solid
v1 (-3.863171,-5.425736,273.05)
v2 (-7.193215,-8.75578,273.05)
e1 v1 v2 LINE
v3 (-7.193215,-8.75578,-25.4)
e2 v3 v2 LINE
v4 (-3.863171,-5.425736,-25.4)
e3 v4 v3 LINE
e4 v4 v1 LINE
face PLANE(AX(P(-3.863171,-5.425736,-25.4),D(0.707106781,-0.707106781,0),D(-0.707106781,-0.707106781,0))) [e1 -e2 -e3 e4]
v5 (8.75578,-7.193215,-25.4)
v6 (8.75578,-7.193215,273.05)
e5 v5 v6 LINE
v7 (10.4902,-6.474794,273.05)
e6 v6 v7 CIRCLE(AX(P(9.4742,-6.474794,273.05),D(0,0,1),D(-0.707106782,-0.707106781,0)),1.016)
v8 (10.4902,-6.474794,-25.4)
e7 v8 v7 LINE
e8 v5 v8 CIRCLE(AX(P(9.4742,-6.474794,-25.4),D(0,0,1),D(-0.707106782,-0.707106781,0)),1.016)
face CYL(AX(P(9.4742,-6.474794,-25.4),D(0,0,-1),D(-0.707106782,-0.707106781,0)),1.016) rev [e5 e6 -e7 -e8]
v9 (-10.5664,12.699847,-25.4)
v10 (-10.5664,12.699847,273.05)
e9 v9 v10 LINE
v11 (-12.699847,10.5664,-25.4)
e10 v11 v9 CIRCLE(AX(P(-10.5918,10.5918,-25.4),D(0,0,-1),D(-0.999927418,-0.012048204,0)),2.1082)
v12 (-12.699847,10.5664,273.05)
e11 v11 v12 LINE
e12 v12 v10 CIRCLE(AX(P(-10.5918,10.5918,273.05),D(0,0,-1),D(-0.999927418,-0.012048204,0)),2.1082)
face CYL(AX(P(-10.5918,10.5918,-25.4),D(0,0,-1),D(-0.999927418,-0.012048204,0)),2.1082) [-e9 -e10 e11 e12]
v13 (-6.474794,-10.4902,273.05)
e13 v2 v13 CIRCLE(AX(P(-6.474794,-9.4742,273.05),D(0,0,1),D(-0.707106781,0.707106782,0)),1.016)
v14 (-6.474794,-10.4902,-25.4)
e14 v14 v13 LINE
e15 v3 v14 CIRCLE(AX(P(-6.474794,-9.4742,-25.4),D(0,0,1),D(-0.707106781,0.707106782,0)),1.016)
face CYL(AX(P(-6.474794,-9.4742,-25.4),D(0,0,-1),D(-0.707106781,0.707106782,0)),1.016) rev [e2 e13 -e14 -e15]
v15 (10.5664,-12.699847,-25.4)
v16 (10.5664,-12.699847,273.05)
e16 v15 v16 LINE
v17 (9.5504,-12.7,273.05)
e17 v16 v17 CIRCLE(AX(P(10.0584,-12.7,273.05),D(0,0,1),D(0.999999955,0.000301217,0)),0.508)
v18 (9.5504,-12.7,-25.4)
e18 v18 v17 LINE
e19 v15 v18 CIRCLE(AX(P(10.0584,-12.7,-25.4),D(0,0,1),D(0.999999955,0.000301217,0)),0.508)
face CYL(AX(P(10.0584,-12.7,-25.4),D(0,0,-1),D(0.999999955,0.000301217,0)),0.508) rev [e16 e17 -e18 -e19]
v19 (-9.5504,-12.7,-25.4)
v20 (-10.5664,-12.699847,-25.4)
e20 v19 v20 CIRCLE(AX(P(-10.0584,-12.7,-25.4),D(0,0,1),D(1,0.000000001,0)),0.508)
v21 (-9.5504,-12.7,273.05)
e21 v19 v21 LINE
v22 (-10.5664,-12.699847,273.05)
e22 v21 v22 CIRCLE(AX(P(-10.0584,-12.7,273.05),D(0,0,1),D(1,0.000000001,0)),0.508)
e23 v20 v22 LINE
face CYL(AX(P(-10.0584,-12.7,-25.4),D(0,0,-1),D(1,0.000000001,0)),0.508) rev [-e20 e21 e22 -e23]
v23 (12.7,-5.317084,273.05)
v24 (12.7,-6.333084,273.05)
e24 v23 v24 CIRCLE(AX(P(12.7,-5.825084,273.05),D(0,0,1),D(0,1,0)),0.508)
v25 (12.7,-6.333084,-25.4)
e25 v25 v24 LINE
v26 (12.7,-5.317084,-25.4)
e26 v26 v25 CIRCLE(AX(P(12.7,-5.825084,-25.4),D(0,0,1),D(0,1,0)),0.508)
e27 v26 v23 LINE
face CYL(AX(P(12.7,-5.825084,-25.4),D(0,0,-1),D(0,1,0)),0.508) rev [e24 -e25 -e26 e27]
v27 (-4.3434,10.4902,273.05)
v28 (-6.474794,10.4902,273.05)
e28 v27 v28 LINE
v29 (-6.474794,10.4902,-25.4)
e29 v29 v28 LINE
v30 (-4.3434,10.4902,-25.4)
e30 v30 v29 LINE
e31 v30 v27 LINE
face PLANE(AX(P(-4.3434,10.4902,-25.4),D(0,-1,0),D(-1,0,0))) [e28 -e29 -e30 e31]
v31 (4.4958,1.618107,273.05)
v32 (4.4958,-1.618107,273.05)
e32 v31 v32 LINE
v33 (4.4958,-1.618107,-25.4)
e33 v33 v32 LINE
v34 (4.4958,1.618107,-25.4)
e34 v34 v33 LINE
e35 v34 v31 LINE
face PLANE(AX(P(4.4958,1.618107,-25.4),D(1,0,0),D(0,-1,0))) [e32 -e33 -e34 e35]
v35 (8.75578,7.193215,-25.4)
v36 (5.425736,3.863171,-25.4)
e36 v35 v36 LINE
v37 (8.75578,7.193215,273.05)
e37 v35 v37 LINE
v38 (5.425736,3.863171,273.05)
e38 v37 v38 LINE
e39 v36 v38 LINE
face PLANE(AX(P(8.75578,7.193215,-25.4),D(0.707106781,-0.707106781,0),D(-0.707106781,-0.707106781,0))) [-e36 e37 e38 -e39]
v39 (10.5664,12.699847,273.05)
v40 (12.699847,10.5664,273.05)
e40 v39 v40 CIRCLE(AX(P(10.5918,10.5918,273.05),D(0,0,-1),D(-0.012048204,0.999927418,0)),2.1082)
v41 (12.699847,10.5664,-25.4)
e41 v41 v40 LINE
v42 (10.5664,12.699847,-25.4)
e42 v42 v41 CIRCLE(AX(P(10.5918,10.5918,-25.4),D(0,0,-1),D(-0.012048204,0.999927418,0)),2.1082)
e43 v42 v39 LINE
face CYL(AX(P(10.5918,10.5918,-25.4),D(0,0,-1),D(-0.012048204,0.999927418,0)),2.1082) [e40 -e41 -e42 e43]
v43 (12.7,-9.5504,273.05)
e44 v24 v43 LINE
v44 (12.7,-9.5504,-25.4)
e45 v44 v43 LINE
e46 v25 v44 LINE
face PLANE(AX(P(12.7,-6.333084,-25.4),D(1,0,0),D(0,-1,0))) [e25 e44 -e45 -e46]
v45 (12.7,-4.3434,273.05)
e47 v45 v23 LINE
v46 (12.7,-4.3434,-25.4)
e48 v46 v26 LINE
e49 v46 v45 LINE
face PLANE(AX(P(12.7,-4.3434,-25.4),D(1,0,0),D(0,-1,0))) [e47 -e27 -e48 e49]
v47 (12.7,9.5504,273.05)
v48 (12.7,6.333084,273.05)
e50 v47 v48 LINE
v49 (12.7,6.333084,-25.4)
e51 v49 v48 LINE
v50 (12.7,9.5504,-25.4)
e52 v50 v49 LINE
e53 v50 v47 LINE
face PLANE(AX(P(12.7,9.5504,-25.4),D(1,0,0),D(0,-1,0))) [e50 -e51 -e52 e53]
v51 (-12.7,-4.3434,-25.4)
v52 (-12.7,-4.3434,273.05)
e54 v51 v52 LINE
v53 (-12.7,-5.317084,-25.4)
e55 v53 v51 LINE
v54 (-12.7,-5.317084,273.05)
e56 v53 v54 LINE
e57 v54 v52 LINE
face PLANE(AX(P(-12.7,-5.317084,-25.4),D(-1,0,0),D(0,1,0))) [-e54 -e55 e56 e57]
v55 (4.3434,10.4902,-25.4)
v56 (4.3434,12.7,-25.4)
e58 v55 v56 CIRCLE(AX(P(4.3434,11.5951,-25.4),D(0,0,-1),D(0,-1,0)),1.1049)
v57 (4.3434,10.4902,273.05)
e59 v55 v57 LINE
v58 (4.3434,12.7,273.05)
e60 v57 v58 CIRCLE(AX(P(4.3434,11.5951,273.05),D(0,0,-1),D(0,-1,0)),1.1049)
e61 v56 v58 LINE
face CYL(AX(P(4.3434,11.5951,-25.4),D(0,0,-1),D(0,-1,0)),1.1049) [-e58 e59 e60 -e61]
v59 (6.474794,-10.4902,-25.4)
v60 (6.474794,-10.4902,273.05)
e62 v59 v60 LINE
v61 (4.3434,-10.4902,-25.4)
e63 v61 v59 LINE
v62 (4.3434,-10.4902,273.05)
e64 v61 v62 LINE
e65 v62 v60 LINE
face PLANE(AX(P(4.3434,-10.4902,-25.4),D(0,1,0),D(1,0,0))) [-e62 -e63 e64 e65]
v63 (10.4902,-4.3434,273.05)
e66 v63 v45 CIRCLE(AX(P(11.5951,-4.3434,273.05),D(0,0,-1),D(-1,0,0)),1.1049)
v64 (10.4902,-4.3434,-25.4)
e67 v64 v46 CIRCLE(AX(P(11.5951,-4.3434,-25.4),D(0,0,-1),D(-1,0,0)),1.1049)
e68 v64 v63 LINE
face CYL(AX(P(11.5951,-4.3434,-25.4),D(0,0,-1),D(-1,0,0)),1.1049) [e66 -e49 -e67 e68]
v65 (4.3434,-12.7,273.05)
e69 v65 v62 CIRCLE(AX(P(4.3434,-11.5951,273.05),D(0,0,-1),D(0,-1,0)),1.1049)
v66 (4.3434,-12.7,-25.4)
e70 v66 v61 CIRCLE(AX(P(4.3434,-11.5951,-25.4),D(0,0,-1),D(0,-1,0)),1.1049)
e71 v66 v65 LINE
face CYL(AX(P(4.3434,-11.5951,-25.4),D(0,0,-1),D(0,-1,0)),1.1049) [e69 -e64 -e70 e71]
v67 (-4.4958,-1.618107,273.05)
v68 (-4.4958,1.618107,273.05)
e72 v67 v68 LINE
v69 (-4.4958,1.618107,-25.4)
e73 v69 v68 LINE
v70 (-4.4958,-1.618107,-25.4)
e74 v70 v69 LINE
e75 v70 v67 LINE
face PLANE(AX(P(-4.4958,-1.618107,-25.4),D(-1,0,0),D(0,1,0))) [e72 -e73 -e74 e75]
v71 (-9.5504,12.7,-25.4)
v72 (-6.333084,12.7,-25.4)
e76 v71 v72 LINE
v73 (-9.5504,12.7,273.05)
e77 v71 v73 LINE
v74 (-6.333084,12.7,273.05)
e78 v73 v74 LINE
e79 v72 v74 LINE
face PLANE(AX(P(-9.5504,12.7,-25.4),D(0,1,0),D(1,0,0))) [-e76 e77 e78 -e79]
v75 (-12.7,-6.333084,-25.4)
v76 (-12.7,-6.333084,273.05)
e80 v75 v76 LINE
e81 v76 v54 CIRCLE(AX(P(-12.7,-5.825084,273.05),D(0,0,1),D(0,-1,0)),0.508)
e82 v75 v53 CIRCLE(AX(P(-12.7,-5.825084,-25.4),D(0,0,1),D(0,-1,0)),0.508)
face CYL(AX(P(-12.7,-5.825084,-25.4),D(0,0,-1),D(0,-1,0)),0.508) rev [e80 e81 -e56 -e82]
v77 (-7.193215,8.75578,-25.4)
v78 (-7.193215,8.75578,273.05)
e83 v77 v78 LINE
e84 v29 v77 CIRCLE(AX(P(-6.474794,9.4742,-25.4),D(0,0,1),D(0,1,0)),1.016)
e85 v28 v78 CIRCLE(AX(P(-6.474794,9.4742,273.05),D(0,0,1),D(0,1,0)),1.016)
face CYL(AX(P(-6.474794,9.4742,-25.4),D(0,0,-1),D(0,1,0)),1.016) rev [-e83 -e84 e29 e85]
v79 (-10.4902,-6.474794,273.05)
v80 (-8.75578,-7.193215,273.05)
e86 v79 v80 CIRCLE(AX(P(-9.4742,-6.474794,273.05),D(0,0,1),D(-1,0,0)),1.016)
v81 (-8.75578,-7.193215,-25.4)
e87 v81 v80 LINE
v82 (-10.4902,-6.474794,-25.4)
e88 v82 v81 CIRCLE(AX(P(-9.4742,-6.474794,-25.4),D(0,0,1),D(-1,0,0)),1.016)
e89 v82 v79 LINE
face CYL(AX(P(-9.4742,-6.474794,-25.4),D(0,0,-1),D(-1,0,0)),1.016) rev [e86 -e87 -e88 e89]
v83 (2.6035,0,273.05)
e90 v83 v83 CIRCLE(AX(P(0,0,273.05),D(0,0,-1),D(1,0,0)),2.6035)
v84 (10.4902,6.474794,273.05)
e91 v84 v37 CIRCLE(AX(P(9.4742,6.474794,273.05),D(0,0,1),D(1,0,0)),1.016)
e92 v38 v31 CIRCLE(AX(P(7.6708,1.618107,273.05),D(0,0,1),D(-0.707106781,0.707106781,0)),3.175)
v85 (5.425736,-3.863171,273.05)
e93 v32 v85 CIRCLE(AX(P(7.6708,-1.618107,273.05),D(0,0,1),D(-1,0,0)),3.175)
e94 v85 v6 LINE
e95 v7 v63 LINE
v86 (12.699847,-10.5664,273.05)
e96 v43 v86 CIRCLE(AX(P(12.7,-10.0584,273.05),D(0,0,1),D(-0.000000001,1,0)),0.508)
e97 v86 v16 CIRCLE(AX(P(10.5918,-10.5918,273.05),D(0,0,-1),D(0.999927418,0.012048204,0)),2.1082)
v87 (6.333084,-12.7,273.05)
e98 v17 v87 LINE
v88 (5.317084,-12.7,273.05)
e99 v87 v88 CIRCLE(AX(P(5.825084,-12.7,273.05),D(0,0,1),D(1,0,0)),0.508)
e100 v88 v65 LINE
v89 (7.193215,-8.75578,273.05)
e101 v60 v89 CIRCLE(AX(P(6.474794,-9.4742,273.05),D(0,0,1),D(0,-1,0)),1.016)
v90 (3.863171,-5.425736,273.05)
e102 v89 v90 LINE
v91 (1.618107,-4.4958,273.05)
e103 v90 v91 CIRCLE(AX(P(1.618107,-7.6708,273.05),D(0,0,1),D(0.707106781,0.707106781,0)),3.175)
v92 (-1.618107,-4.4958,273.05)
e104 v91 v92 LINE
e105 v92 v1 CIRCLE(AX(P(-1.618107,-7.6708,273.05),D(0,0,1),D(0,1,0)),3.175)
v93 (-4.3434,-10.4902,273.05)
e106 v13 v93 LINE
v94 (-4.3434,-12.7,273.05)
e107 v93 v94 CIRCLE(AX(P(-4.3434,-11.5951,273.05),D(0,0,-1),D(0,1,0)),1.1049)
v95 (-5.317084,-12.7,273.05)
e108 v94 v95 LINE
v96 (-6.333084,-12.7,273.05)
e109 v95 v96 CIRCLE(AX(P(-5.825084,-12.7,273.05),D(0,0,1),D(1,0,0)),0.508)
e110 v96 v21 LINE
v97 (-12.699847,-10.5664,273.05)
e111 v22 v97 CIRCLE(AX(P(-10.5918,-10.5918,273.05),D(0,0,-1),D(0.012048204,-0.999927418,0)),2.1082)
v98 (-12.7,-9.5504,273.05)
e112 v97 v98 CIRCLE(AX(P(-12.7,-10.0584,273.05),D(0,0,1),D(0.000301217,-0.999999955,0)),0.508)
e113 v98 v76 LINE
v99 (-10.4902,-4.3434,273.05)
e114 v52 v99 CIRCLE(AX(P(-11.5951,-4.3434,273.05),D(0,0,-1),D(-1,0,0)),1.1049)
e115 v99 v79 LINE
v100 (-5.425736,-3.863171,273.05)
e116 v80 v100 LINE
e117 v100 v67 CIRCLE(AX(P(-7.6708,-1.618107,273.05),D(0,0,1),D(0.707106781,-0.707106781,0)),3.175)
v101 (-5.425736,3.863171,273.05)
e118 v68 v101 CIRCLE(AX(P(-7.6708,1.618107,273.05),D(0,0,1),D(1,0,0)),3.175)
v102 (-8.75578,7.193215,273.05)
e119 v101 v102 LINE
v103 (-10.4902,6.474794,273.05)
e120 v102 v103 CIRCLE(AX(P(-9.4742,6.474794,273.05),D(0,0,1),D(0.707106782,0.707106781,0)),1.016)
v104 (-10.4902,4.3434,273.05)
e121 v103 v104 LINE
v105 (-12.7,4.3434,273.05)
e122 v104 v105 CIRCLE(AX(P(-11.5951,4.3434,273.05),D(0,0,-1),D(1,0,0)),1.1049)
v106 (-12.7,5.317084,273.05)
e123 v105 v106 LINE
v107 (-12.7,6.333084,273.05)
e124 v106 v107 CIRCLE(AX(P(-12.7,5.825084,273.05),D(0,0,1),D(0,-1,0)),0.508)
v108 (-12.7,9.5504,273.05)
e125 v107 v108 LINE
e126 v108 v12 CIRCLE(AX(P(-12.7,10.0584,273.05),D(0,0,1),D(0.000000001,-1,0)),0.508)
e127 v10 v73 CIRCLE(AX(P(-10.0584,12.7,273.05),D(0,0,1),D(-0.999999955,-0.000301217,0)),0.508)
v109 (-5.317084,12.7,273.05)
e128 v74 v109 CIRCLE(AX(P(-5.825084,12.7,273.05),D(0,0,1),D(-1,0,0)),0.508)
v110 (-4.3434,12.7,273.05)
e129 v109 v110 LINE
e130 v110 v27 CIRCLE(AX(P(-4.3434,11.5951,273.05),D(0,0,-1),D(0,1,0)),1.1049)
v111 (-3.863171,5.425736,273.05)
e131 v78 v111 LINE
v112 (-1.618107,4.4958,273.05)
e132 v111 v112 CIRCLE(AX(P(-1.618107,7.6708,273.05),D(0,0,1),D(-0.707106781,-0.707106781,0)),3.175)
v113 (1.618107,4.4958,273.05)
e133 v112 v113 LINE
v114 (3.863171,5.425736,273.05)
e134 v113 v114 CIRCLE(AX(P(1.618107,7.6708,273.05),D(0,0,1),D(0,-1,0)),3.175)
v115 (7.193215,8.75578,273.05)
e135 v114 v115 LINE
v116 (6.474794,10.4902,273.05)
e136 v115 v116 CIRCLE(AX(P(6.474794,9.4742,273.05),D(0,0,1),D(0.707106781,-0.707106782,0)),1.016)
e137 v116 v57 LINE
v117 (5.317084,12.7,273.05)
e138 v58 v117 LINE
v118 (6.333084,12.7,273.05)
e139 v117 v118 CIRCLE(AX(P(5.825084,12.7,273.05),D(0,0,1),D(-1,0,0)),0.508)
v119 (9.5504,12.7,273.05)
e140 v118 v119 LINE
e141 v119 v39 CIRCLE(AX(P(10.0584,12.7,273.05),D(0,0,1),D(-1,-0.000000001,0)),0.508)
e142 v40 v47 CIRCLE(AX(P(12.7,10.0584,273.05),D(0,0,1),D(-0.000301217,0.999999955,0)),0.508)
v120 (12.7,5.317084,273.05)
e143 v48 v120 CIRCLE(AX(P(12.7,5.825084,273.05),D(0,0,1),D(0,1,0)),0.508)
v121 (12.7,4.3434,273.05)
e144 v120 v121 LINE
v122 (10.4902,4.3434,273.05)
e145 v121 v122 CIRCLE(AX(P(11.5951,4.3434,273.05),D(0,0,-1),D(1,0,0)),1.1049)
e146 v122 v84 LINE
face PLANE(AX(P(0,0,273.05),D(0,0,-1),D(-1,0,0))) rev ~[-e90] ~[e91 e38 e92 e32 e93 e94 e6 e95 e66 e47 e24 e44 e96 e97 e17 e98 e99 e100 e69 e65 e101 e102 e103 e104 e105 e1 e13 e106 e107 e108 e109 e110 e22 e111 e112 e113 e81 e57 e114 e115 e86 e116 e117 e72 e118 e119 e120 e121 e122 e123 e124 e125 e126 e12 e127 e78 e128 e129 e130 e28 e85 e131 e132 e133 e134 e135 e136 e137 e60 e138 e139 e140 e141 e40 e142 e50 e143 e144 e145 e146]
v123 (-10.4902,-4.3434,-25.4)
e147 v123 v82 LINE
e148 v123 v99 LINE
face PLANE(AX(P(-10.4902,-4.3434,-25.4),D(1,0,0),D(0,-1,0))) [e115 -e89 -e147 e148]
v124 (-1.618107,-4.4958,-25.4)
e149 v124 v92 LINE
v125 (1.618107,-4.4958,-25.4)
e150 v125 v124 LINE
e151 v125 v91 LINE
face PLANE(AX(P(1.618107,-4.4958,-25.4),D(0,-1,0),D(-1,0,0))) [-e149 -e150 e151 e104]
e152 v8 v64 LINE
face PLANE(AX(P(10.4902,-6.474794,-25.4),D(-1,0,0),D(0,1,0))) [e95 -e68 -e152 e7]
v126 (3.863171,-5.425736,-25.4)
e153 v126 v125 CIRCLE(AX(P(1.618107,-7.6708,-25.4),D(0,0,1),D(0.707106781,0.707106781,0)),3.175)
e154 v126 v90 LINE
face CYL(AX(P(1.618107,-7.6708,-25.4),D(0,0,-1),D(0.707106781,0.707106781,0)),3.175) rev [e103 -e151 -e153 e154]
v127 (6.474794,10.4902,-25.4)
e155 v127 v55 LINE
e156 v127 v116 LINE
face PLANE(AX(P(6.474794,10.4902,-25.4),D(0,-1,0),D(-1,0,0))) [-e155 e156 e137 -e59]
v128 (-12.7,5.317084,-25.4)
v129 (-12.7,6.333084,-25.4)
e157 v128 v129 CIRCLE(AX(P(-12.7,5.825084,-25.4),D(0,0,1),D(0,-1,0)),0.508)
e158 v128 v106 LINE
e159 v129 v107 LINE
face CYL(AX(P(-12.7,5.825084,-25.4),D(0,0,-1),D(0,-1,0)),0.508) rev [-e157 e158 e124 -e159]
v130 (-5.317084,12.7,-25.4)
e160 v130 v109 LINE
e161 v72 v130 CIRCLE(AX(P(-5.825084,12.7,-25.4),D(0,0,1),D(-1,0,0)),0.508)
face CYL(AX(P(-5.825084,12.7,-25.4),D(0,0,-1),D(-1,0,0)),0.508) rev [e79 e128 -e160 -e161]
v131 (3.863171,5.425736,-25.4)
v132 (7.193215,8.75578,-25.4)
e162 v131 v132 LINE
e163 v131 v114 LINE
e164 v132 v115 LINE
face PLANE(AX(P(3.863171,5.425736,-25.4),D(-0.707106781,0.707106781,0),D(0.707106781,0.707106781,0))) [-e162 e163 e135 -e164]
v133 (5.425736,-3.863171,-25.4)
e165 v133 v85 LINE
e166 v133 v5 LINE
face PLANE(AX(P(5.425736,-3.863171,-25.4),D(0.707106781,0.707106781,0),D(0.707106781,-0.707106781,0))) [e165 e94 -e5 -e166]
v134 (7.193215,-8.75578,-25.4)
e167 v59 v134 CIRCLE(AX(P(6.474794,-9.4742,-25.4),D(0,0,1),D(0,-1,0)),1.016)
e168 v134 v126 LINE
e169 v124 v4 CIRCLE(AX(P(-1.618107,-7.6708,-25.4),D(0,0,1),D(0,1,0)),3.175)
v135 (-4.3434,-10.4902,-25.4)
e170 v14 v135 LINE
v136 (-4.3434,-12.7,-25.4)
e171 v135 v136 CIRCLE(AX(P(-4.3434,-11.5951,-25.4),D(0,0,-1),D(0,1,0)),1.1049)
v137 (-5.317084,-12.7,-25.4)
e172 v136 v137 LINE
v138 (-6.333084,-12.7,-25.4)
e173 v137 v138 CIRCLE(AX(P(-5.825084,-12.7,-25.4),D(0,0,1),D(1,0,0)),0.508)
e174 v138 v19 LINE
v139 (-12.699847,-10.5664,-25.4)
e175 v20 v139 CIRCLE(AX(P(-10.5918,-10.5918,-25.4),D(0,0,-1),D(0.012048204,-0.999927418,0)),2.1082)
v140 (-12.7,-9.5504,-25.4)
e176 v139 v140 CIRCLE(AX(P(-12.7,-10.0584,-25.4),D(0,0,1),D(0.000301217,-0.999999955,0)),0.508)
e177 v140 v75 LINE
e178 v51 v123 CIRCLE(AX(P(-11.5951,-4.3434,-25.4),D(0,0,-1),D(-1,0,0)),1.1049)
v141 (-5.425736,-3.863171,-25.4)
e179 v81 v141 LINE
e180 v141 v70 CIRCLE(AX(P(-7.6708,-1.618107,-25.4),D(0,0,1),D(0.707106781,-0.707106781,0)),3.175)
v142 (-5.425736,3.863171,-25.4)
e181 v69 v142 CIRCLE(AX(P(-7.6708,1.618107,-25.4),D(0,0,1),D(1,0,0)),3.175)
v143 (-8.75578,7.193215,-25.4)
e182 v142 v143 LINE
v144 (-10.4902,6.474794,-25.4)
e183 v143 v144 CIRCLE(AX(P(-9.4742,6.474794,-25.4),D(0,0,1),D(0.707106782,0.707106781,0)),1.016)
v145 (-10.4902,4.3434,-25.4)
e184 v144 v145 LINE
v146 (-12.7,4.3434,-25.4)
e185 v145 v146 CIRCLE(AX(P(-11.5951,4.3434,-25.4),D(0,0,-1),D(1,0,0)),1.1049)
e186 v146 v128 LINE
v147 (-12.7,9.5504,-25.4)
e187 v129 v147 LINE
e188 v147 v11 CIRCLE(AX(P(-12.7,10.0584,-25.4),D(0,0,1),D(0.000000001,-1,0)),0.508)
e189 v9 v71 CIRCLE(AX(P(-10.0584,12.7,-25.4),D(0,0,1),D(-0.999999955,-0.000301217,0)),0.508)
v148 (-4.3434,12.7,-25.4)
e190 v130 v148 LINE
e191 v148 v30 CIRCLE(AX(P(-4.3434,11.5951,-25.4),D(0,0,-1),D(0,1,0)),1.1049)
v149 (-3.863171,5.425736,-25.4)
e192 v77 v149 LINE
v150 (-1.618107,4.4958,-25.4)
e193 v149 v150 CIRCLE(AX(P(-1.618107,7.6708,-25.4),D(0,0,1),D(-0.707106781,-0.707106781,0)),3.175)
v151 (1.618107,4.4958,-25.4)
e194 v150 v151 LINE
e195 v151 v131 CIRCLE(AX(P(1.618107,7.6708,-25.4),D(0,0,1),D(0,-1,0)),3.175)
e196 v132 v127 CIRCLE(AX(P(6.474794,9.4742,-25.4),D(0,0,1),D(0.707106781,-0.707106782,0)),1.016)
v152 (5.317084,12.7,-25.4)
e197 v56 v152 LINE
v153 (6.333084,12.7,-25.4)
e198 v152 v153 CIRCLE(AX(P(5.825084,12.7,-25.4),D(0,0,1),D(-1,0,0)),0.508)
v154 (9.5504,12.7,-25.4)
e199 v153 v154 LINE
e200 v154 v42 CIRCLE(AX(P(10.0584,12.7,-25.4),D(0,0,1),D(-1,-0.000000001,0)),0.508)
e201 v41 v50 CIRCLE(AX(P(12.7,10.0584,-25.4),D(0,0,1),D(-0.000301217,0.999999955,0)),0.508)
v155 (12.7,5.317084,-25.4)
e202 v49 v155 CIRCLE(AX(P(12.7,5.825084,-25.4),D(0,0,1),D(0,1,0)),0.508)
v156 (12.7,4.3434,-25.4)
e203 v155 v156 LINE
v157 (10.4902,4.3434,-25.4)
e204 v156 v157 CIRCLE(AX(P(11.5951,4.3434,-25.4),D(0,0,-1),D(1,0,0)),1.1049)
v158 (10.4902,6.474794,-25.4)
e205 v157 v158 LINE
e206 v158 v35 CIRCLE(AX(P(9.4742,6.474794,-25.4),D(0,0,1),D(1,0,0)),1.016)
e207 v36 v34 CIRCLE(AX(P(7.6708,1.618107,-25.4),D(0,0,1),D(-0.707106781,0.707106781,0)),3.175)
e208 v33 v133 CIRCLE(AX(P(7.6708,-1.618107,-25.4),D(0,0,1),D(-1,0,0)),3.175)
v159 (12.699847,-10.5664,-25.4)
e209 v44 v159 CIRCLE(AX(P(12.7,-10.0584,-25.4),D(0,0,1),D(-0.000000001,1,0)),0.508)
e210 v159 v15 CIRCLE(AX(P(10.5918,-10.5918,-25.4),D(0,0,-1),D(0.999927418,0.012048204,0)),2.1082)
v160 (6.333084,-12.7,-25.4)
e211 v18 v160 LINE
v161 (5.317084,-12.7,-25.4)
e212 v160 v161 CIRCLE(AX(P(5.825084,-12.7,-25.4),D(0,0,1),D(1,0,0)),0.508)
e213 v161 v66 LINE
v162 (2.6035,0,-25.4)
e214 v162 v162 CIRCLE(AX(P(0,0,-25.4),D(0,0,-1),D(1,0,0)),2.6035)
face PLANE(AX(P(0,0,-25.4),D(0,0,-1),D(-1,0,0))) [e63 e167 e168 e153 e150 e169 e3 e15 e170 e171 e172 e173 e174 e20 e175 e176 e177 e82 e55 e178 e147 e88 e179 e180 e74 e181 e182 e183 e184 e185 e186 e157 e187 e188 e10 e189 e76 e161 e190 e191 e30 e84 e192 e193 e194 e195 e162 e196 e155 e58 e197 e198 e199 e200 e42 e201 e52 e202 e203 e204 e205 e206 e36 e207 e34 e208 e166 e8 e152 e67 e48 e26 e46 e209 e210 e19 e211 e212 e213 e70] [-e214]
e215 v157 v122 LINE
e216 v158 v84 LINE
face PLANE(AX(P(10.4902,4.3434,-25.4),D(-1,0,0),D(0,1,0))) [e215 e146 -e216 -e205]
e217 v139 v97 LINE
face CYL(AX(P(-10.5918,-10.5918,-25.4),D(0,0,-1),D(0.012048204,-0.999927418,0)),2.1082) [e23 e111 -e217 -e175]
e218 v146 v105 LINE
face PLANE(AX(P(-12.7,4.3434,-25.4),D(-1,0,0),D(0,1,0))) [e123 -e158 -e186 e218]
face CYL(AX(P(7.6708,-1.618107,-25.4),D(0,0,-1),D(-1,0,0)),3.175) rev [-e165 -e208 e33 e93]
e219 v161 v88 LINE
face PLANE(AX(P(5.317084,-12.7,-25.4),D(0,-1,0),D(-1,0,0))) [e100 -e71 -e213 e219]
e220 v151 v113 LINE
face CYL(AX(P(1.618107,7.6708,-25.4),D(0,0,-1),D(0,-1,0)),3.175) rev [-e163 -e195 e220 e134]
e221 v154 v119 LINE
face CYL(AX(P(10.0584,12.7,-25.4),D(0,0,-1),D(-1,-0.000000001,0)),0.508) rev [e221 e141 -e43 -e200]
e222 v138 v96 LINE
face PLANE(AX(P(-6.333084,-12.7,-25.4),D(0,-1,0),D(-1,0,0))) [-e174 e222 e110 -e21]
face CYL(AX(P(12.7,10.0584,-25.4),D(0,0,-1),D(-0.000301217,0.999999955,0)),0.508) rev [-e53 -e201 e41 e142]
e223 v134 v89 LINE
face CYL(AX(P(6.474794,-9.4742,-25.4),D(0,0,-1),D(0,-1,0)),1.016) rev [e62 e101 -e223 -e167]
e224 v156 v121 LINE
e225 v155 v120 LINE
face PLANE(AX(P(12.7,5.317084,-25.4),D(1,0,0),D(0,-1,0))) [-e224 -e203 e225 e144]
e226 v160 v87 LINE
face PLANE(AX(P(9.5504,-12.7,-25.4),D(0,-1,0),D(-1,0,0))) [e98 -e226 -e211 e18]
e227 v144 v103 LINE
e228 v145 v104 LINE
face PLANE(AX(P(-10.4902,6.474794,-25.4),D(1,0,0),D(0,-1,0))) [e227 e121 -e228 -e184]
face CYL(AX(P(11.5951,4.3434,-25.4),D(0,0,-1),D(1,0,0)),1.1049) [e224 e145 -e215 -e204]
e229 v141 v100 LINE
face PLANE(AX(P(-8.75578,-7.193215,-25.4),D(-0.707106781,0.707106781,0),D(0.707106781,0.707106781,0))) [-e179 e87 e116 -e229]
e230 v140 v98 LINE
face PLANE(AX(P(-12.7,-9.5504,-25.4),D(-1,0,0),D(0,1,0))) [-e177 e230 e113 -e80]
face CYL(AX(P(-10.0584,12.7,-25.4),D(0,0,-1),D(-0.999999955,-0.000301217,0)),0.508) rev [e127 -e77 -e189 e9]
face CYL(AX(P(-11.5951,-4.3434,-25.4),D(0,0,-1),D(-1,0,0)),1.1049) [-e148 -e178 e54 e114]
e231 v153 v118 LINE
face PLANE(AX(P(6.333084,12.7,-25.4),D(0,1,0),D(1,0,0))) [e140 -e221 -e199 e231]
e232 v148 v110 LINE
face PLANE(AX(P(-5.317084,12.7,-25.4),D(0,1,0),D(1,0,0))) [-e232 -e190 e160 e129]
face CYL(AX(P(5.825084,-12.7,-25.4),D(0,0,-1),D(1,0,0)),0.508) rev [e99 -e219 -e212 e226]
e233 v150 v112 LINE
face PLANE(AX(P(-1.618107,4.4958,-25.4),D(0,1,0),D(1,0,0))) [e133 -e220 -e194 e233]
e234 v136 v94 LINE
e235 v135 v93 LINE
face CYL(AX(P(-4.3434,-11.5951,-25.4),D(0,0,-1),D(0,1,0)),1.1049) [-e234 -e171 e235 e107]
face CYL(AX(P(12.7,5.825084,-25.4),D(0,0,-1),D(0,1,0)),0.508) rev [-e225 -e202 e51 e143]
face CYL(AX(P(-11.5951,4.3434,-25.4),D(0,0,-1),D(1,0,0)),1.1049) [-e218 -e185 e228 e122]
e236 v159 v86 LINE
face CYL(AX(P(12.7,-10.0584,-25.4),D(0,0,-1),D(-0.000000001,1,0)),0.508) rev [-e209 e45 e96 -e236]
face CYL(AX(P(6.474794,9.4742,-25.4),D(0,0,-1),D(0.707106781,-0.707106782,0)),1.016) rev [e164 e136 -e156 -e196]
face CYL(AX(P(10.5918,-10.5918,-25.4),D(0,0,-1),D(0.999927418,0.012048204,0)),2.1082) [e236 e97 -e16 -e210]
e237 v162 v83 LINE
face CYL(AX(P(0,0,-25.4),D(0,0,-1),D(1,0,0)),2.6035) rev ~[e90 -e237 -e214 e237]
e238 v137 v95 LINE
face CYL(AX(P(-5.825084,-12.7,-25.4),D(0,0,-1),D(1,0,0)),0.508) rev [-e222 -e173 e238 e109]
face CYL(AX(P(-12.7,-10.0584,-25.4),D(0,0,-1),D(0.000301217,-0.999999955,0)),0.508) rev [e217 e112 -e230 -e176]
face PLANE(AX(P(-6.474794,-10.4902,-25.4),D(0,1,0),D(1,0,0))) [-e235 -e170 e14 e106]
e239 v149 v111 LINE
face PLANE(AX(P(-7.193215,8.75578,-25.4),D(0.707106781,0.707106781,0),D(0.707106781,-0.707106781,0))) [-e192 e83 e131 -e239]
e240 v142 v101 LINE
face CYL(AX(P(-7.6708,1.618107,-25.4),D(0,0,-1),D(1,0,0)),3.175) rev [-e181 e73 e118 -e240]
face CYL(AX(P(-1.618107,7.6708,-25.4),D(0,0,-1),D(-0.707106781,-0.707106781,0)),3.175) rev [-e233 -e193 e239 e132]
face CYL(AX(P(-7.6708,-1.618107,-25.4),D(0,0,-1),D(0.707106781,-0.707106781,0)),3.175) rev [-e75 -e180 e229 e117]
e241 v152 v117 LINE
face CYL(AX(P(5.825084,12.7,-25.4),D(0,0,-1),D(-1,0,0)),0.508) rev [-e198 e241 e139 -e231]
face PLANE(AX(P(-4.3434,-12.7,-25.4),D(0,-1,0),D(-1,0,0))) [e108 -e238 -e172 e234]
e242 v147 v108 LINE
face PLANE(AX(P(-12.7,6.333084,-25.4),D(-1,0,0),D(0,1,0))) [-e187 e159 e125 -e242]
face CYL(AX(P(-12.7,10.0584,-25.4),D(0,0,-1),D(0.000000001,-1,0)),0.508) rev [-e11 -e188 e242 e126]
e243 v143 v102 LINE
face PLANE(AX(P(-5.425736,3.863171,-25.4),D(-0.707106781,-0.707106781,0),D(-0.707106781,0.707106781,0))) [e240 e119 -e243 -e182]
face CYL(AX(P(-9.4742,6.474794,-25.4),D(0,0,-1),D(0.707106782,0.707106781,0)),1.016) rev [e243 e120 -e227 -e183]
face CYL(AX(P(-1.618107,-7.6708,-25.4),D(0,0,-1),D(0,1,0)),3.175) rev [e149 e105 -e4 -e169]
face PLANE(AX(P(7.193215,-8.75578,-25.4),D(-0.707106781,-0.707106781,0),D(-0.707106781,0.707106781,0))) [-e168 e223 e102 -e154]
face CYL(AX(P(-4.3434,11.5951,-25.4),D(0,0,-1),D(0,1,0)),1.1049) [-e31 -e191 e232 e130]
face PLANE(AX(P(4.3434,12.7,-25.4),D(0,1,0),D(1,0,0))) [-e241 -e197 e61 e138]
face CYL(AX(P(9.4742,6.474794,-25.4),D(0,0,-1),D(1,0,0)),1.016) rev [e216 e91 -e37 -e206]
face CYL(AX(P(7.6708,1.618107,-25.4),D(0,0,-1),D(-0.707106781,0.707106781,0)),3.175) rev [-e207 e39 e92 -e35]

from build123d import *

# Parameters (mm, degrees)
SKETCH1_R           = 2.6035
BOSS_EXTRUDE1_DEPTH = 298.45


with BuildPart() as part:
    # Sketch1 → Boss-Extrude1 (new body)
    with BuildSketch(Plane(origin=(0, 0, -25.4), x_dir=(-1, 0, 0), z_dir=(0, 0, -1))):
        with BuildLine():
            Line((12.7, -9.5504), (12.7, -6.3330836))
            ThreePointArc((12.7, -6.3330836), (12.192, -5.8250836), (12.7, -5.3170836))
            Line((12.7, -5.3170836), (12.7, -4.3434))
            ThreePointArc((12.7, -4.3434), (11.5951, -3.2385), (10.4902, -4.3434))
            Line((10.4902, -4.3434), (10.4902, -6.474794456))
            ThreePointArc((10.4902, -6.474794456), (9.863006367, -7.413456061), (8.75577951, -7.193214945))
            Line((8.75577951, -7.193214945), (5.42573597, -3.863171405))
            ThreePointArc((5.42573597, -3.863171405), (4.737482484, -2.833127272), (4.4958, -1.618107374))
            Line((4.4958, -1.618107374), (4.4958, 1.618107374))
            ThreePointArc((4.4958, 1.618107374), (4.737482484, 2.833127272), (5.42573597, 3.863171405))
            Line((5.42573597, 3.863171405), (8.75577951, 7.193214945))
            ThreePointArc((8.75577951, 7.193214945), (9.863006367, 7.413456061), (10.4902, 6.474794456))
            Line((10.4902, 6.474794456), (10.4902, 4.343399971))
            ThreePointArc((10.4902, 4.343399971), (11.5951, 3.238499971), (12.7, 4.343399971))
            Line((12.7, 4.343399971), (12.7, 5.3170836))
            ThreePointArc((12.7, 5.3170836), (12.192, 5.8250836), (12.7, 6.3330836))
            Line((12.7, 6.3330836), (12.7, 9.5504))
            ThreePointArc((12.7, 9.5504), (12.192000006, 10.058323491), (12.699846982, 10.566399977))
            ThreePointArc((12.699846982, 10.566399977), (12.082522516, 12.082522516), (10.566399977, 12.699846982))
            ThreePointArc((10.566399977, 12.699846982), (10.058323491, 12.192000006), (9.5504, 12.7))
            Line((9.5504, 12.7), (6.3330836, 12.7))
            ThreePointArc((6.3330836, 12.7), (5.8250836, 12.192), (5.3170836, 12.7))
            Line((5.3170836, 12.7), (4.3434, 12.7))
            ThreePointArc((4.3434, 12.7), (3.2385, 11.5951), (4.3434, 10.4902))
            Line((4.3434, 10.4902), (6.474794456, 10.4902))
            ThreePointArc((6.474794456, 10.4902), (7.413456061, 9.863006367), (7.193214945, 8.75577951))
            Line((7.193214945, 8.75577951), (3.863171405, 5.42573597))
            ThreePointArc((3.863171405, 5.42573597), (2.833127272, 4.737482484), (1.618107374, 4.4958))
            Line((1.618107374, 4.4958), (-1.618107374, 4.4958))
            ThreePointArc((-1.618107374, 4.4958), (-2.833127272, 4.737482484), (-3.863171405, 5.42573597))
            Line((-3.863171405, 5.42573597), (-7.193214945, 8.75577951))
            ThreePointArc((-7.193214945, 8.75577951), (-7.413456061, 9.863006367), (-6.474794456, 10.4902))
            Line((-6.474794456, 10.4902), (-4.343399971, 10.4902))
            ThreePointArc((-4.343399971, 10.4902), (-3.238499971, 11.5951), (-4.343399971, 12.7))
            Line((-4.343399971, 12.7), (-5.3170836, 12.7))
            ThreePointArc((-5.3170836, 12.7), (-5.8250836, 12.192), (-6.3330836, 12.7))
            Line((-6.3330836, 12.7), (-9.5504, 12.7))
            ThreePointArc((-9.5504, 12.7), (-10.058323491, 12.192000006), (-10.566399977, 12.699846982))
            ThreePointArc((-10.566399977, 12.699846982), (-12.082522516, 12.082522516), (-12.699846982, 10.566399977))
            ThreePointArc((-12.699846982, 10.566399977), (-12.192000006, 10.058323491), (-12.7, 9.5504))
            Line((-12.7, 9.5504), (-12.7, 6.3330836))
            ThreePointArc((-12.7, 6.3330836), (-12.192, 5.8250836), (-12.7, 5.3170836))
            Line((-12.7, 5.3170836), (-12.7, 4.3434))
            ThreePointArc((-12.7, 4.3434), (-11.5951, 3.2385), (-10.4902, 4.3434))
            Line((-10.4902, 4.3434), (-10.4902, 6.474794456))
            ThreePointArc((-10.4902, 6.474794456), (-9.863006367, 7.413456061), (-8.75577951, 7.193214945))
            Line((-8.75577951, 7.193214945), (-5.42573597, 3.863171405))
            ThreePointArc((-5.42573597, 3.863171405), (-4.737482484, 2.833127272), (-4.4958, 1.618107374))
            Line((-4.4958, 1.618107374), (-4.4958, -1.618107374))
            ThreePointArc((-4.4958, -1.618107374), (-4.737482484, -2.833127272), (-5.42573597, -3.863171405))
            Line((-5.42573597, -3.863171405), (-8.75577951, -7.193214945))
            ThreePointArc((-8.75577951, -7.193214945), (-9.863006367, -7.413456061), (-10.4902, -6.474794456))
            Line((-10.4902, -6.474794456), (-10.4902, -4.343399971))
            ThreePointArc((-10.4902, -4.343399971), (-11.5951, -3.238499971), (-12.7, -4.343399971))
            Line((-12.7, -4.343399971), (-12.7, -5.3170836))
            ThreePointArc((-12.7, -5.3170836), (-12.192, -5.8250836), (-12.7, -6.3330836))
            Line((-12.7, -6.3330836), (-12.7, -9.5504))
            ThreePointArc((-12.7, -9.5504), (-12.192000006, -10.058323491), (-12.699846982, -10.566399977))
            ThreePointArc((-12.699846982, -10.566399977), (-12.082522516, -12.082522516), (-10.566399977, -12.699846982))
            ThreePointArc((-10.566399977, -12.699846982), (-10.058323491, -12.192000006), (-9.5504, -12.7))
            Line((-9.5504, -12.7), (-6.3330836, -12.7))
            ThreePointArc((-6.3330836, -12.7), (-5.8250836, -12.192), (-5.3170836, -12.7))
            Line((-5.3170836, -12.7), (-4.3434, -12.7))
            ThreePointArc((-4.3434, -12.7), (-3.2385, -11.5951), (-4.3434, -10.4902))
            Line((-4.3434, -10.4902), (-6.474794456, -10.4902))
            ThreePointArc((-6.474794456, -10.4902), (-7.413456061, -9.863006367), (-7.193214945, -8.75577951))
            Line((-7.193214945, -8.75577951), (-3.863171405, -5.42573597))
            ThreePointArc((-3.863171405, -5.42573597), (-2.833127272, -4.737482484), (-1.618107374, -4.4958))
            Line((-1.618107374, -4.4958), (1.618107374, -4.4958))
            ThreePointArc((1.618107374, -4.4958), (2.833127272, -4.737482484), (3.863171405, -5.42573597))
            Line((3.863171405, -5.42573597), (7.193214945, -8.75577951))
            ThreePointArc((7.193214945, -8.75577951), (7.413456061, -9.863006367), (6.474794456, -10.4902))
            Line((6.474794456, -10.4902), (4.343399971, -10.4902))
            ThreePointArc((4.343399971, -10.4902), (3.238499971, -11.5951), (4.343399971, -12.7))
            Line((4.343399971, -12.7), (5.3170836, -12.7))
            ThreePointArc((5.3170836, -12.7), (5.8250836, -12.192), (6.3330836, -12.7))
            Line((6.3330836, -12.7), (9.5504, -12.7))
            ThreePointArc((9.5504, -12.7), (10.058323491, -12.192000006), (10.566399977, -12.699846982))
            ThreePointArc((10.566399977, -12.699846982), (12.082522516, -12.082522516), (12.699846982, -10.566399977))
            ThreePointArc((12.699846982, -10.566399977), (12.192000006, -10.058323491), (12.7, -9.5504))
        make_face()
        with Locations(Location((0, 0, 0), (0, 0, 180))):
            Circle(SKETCH1_R, mode=Mode.SUBTRACT)
    extrude(amount=-BOSS_EXTRUDE1_DEPTH)


solid = part.part
